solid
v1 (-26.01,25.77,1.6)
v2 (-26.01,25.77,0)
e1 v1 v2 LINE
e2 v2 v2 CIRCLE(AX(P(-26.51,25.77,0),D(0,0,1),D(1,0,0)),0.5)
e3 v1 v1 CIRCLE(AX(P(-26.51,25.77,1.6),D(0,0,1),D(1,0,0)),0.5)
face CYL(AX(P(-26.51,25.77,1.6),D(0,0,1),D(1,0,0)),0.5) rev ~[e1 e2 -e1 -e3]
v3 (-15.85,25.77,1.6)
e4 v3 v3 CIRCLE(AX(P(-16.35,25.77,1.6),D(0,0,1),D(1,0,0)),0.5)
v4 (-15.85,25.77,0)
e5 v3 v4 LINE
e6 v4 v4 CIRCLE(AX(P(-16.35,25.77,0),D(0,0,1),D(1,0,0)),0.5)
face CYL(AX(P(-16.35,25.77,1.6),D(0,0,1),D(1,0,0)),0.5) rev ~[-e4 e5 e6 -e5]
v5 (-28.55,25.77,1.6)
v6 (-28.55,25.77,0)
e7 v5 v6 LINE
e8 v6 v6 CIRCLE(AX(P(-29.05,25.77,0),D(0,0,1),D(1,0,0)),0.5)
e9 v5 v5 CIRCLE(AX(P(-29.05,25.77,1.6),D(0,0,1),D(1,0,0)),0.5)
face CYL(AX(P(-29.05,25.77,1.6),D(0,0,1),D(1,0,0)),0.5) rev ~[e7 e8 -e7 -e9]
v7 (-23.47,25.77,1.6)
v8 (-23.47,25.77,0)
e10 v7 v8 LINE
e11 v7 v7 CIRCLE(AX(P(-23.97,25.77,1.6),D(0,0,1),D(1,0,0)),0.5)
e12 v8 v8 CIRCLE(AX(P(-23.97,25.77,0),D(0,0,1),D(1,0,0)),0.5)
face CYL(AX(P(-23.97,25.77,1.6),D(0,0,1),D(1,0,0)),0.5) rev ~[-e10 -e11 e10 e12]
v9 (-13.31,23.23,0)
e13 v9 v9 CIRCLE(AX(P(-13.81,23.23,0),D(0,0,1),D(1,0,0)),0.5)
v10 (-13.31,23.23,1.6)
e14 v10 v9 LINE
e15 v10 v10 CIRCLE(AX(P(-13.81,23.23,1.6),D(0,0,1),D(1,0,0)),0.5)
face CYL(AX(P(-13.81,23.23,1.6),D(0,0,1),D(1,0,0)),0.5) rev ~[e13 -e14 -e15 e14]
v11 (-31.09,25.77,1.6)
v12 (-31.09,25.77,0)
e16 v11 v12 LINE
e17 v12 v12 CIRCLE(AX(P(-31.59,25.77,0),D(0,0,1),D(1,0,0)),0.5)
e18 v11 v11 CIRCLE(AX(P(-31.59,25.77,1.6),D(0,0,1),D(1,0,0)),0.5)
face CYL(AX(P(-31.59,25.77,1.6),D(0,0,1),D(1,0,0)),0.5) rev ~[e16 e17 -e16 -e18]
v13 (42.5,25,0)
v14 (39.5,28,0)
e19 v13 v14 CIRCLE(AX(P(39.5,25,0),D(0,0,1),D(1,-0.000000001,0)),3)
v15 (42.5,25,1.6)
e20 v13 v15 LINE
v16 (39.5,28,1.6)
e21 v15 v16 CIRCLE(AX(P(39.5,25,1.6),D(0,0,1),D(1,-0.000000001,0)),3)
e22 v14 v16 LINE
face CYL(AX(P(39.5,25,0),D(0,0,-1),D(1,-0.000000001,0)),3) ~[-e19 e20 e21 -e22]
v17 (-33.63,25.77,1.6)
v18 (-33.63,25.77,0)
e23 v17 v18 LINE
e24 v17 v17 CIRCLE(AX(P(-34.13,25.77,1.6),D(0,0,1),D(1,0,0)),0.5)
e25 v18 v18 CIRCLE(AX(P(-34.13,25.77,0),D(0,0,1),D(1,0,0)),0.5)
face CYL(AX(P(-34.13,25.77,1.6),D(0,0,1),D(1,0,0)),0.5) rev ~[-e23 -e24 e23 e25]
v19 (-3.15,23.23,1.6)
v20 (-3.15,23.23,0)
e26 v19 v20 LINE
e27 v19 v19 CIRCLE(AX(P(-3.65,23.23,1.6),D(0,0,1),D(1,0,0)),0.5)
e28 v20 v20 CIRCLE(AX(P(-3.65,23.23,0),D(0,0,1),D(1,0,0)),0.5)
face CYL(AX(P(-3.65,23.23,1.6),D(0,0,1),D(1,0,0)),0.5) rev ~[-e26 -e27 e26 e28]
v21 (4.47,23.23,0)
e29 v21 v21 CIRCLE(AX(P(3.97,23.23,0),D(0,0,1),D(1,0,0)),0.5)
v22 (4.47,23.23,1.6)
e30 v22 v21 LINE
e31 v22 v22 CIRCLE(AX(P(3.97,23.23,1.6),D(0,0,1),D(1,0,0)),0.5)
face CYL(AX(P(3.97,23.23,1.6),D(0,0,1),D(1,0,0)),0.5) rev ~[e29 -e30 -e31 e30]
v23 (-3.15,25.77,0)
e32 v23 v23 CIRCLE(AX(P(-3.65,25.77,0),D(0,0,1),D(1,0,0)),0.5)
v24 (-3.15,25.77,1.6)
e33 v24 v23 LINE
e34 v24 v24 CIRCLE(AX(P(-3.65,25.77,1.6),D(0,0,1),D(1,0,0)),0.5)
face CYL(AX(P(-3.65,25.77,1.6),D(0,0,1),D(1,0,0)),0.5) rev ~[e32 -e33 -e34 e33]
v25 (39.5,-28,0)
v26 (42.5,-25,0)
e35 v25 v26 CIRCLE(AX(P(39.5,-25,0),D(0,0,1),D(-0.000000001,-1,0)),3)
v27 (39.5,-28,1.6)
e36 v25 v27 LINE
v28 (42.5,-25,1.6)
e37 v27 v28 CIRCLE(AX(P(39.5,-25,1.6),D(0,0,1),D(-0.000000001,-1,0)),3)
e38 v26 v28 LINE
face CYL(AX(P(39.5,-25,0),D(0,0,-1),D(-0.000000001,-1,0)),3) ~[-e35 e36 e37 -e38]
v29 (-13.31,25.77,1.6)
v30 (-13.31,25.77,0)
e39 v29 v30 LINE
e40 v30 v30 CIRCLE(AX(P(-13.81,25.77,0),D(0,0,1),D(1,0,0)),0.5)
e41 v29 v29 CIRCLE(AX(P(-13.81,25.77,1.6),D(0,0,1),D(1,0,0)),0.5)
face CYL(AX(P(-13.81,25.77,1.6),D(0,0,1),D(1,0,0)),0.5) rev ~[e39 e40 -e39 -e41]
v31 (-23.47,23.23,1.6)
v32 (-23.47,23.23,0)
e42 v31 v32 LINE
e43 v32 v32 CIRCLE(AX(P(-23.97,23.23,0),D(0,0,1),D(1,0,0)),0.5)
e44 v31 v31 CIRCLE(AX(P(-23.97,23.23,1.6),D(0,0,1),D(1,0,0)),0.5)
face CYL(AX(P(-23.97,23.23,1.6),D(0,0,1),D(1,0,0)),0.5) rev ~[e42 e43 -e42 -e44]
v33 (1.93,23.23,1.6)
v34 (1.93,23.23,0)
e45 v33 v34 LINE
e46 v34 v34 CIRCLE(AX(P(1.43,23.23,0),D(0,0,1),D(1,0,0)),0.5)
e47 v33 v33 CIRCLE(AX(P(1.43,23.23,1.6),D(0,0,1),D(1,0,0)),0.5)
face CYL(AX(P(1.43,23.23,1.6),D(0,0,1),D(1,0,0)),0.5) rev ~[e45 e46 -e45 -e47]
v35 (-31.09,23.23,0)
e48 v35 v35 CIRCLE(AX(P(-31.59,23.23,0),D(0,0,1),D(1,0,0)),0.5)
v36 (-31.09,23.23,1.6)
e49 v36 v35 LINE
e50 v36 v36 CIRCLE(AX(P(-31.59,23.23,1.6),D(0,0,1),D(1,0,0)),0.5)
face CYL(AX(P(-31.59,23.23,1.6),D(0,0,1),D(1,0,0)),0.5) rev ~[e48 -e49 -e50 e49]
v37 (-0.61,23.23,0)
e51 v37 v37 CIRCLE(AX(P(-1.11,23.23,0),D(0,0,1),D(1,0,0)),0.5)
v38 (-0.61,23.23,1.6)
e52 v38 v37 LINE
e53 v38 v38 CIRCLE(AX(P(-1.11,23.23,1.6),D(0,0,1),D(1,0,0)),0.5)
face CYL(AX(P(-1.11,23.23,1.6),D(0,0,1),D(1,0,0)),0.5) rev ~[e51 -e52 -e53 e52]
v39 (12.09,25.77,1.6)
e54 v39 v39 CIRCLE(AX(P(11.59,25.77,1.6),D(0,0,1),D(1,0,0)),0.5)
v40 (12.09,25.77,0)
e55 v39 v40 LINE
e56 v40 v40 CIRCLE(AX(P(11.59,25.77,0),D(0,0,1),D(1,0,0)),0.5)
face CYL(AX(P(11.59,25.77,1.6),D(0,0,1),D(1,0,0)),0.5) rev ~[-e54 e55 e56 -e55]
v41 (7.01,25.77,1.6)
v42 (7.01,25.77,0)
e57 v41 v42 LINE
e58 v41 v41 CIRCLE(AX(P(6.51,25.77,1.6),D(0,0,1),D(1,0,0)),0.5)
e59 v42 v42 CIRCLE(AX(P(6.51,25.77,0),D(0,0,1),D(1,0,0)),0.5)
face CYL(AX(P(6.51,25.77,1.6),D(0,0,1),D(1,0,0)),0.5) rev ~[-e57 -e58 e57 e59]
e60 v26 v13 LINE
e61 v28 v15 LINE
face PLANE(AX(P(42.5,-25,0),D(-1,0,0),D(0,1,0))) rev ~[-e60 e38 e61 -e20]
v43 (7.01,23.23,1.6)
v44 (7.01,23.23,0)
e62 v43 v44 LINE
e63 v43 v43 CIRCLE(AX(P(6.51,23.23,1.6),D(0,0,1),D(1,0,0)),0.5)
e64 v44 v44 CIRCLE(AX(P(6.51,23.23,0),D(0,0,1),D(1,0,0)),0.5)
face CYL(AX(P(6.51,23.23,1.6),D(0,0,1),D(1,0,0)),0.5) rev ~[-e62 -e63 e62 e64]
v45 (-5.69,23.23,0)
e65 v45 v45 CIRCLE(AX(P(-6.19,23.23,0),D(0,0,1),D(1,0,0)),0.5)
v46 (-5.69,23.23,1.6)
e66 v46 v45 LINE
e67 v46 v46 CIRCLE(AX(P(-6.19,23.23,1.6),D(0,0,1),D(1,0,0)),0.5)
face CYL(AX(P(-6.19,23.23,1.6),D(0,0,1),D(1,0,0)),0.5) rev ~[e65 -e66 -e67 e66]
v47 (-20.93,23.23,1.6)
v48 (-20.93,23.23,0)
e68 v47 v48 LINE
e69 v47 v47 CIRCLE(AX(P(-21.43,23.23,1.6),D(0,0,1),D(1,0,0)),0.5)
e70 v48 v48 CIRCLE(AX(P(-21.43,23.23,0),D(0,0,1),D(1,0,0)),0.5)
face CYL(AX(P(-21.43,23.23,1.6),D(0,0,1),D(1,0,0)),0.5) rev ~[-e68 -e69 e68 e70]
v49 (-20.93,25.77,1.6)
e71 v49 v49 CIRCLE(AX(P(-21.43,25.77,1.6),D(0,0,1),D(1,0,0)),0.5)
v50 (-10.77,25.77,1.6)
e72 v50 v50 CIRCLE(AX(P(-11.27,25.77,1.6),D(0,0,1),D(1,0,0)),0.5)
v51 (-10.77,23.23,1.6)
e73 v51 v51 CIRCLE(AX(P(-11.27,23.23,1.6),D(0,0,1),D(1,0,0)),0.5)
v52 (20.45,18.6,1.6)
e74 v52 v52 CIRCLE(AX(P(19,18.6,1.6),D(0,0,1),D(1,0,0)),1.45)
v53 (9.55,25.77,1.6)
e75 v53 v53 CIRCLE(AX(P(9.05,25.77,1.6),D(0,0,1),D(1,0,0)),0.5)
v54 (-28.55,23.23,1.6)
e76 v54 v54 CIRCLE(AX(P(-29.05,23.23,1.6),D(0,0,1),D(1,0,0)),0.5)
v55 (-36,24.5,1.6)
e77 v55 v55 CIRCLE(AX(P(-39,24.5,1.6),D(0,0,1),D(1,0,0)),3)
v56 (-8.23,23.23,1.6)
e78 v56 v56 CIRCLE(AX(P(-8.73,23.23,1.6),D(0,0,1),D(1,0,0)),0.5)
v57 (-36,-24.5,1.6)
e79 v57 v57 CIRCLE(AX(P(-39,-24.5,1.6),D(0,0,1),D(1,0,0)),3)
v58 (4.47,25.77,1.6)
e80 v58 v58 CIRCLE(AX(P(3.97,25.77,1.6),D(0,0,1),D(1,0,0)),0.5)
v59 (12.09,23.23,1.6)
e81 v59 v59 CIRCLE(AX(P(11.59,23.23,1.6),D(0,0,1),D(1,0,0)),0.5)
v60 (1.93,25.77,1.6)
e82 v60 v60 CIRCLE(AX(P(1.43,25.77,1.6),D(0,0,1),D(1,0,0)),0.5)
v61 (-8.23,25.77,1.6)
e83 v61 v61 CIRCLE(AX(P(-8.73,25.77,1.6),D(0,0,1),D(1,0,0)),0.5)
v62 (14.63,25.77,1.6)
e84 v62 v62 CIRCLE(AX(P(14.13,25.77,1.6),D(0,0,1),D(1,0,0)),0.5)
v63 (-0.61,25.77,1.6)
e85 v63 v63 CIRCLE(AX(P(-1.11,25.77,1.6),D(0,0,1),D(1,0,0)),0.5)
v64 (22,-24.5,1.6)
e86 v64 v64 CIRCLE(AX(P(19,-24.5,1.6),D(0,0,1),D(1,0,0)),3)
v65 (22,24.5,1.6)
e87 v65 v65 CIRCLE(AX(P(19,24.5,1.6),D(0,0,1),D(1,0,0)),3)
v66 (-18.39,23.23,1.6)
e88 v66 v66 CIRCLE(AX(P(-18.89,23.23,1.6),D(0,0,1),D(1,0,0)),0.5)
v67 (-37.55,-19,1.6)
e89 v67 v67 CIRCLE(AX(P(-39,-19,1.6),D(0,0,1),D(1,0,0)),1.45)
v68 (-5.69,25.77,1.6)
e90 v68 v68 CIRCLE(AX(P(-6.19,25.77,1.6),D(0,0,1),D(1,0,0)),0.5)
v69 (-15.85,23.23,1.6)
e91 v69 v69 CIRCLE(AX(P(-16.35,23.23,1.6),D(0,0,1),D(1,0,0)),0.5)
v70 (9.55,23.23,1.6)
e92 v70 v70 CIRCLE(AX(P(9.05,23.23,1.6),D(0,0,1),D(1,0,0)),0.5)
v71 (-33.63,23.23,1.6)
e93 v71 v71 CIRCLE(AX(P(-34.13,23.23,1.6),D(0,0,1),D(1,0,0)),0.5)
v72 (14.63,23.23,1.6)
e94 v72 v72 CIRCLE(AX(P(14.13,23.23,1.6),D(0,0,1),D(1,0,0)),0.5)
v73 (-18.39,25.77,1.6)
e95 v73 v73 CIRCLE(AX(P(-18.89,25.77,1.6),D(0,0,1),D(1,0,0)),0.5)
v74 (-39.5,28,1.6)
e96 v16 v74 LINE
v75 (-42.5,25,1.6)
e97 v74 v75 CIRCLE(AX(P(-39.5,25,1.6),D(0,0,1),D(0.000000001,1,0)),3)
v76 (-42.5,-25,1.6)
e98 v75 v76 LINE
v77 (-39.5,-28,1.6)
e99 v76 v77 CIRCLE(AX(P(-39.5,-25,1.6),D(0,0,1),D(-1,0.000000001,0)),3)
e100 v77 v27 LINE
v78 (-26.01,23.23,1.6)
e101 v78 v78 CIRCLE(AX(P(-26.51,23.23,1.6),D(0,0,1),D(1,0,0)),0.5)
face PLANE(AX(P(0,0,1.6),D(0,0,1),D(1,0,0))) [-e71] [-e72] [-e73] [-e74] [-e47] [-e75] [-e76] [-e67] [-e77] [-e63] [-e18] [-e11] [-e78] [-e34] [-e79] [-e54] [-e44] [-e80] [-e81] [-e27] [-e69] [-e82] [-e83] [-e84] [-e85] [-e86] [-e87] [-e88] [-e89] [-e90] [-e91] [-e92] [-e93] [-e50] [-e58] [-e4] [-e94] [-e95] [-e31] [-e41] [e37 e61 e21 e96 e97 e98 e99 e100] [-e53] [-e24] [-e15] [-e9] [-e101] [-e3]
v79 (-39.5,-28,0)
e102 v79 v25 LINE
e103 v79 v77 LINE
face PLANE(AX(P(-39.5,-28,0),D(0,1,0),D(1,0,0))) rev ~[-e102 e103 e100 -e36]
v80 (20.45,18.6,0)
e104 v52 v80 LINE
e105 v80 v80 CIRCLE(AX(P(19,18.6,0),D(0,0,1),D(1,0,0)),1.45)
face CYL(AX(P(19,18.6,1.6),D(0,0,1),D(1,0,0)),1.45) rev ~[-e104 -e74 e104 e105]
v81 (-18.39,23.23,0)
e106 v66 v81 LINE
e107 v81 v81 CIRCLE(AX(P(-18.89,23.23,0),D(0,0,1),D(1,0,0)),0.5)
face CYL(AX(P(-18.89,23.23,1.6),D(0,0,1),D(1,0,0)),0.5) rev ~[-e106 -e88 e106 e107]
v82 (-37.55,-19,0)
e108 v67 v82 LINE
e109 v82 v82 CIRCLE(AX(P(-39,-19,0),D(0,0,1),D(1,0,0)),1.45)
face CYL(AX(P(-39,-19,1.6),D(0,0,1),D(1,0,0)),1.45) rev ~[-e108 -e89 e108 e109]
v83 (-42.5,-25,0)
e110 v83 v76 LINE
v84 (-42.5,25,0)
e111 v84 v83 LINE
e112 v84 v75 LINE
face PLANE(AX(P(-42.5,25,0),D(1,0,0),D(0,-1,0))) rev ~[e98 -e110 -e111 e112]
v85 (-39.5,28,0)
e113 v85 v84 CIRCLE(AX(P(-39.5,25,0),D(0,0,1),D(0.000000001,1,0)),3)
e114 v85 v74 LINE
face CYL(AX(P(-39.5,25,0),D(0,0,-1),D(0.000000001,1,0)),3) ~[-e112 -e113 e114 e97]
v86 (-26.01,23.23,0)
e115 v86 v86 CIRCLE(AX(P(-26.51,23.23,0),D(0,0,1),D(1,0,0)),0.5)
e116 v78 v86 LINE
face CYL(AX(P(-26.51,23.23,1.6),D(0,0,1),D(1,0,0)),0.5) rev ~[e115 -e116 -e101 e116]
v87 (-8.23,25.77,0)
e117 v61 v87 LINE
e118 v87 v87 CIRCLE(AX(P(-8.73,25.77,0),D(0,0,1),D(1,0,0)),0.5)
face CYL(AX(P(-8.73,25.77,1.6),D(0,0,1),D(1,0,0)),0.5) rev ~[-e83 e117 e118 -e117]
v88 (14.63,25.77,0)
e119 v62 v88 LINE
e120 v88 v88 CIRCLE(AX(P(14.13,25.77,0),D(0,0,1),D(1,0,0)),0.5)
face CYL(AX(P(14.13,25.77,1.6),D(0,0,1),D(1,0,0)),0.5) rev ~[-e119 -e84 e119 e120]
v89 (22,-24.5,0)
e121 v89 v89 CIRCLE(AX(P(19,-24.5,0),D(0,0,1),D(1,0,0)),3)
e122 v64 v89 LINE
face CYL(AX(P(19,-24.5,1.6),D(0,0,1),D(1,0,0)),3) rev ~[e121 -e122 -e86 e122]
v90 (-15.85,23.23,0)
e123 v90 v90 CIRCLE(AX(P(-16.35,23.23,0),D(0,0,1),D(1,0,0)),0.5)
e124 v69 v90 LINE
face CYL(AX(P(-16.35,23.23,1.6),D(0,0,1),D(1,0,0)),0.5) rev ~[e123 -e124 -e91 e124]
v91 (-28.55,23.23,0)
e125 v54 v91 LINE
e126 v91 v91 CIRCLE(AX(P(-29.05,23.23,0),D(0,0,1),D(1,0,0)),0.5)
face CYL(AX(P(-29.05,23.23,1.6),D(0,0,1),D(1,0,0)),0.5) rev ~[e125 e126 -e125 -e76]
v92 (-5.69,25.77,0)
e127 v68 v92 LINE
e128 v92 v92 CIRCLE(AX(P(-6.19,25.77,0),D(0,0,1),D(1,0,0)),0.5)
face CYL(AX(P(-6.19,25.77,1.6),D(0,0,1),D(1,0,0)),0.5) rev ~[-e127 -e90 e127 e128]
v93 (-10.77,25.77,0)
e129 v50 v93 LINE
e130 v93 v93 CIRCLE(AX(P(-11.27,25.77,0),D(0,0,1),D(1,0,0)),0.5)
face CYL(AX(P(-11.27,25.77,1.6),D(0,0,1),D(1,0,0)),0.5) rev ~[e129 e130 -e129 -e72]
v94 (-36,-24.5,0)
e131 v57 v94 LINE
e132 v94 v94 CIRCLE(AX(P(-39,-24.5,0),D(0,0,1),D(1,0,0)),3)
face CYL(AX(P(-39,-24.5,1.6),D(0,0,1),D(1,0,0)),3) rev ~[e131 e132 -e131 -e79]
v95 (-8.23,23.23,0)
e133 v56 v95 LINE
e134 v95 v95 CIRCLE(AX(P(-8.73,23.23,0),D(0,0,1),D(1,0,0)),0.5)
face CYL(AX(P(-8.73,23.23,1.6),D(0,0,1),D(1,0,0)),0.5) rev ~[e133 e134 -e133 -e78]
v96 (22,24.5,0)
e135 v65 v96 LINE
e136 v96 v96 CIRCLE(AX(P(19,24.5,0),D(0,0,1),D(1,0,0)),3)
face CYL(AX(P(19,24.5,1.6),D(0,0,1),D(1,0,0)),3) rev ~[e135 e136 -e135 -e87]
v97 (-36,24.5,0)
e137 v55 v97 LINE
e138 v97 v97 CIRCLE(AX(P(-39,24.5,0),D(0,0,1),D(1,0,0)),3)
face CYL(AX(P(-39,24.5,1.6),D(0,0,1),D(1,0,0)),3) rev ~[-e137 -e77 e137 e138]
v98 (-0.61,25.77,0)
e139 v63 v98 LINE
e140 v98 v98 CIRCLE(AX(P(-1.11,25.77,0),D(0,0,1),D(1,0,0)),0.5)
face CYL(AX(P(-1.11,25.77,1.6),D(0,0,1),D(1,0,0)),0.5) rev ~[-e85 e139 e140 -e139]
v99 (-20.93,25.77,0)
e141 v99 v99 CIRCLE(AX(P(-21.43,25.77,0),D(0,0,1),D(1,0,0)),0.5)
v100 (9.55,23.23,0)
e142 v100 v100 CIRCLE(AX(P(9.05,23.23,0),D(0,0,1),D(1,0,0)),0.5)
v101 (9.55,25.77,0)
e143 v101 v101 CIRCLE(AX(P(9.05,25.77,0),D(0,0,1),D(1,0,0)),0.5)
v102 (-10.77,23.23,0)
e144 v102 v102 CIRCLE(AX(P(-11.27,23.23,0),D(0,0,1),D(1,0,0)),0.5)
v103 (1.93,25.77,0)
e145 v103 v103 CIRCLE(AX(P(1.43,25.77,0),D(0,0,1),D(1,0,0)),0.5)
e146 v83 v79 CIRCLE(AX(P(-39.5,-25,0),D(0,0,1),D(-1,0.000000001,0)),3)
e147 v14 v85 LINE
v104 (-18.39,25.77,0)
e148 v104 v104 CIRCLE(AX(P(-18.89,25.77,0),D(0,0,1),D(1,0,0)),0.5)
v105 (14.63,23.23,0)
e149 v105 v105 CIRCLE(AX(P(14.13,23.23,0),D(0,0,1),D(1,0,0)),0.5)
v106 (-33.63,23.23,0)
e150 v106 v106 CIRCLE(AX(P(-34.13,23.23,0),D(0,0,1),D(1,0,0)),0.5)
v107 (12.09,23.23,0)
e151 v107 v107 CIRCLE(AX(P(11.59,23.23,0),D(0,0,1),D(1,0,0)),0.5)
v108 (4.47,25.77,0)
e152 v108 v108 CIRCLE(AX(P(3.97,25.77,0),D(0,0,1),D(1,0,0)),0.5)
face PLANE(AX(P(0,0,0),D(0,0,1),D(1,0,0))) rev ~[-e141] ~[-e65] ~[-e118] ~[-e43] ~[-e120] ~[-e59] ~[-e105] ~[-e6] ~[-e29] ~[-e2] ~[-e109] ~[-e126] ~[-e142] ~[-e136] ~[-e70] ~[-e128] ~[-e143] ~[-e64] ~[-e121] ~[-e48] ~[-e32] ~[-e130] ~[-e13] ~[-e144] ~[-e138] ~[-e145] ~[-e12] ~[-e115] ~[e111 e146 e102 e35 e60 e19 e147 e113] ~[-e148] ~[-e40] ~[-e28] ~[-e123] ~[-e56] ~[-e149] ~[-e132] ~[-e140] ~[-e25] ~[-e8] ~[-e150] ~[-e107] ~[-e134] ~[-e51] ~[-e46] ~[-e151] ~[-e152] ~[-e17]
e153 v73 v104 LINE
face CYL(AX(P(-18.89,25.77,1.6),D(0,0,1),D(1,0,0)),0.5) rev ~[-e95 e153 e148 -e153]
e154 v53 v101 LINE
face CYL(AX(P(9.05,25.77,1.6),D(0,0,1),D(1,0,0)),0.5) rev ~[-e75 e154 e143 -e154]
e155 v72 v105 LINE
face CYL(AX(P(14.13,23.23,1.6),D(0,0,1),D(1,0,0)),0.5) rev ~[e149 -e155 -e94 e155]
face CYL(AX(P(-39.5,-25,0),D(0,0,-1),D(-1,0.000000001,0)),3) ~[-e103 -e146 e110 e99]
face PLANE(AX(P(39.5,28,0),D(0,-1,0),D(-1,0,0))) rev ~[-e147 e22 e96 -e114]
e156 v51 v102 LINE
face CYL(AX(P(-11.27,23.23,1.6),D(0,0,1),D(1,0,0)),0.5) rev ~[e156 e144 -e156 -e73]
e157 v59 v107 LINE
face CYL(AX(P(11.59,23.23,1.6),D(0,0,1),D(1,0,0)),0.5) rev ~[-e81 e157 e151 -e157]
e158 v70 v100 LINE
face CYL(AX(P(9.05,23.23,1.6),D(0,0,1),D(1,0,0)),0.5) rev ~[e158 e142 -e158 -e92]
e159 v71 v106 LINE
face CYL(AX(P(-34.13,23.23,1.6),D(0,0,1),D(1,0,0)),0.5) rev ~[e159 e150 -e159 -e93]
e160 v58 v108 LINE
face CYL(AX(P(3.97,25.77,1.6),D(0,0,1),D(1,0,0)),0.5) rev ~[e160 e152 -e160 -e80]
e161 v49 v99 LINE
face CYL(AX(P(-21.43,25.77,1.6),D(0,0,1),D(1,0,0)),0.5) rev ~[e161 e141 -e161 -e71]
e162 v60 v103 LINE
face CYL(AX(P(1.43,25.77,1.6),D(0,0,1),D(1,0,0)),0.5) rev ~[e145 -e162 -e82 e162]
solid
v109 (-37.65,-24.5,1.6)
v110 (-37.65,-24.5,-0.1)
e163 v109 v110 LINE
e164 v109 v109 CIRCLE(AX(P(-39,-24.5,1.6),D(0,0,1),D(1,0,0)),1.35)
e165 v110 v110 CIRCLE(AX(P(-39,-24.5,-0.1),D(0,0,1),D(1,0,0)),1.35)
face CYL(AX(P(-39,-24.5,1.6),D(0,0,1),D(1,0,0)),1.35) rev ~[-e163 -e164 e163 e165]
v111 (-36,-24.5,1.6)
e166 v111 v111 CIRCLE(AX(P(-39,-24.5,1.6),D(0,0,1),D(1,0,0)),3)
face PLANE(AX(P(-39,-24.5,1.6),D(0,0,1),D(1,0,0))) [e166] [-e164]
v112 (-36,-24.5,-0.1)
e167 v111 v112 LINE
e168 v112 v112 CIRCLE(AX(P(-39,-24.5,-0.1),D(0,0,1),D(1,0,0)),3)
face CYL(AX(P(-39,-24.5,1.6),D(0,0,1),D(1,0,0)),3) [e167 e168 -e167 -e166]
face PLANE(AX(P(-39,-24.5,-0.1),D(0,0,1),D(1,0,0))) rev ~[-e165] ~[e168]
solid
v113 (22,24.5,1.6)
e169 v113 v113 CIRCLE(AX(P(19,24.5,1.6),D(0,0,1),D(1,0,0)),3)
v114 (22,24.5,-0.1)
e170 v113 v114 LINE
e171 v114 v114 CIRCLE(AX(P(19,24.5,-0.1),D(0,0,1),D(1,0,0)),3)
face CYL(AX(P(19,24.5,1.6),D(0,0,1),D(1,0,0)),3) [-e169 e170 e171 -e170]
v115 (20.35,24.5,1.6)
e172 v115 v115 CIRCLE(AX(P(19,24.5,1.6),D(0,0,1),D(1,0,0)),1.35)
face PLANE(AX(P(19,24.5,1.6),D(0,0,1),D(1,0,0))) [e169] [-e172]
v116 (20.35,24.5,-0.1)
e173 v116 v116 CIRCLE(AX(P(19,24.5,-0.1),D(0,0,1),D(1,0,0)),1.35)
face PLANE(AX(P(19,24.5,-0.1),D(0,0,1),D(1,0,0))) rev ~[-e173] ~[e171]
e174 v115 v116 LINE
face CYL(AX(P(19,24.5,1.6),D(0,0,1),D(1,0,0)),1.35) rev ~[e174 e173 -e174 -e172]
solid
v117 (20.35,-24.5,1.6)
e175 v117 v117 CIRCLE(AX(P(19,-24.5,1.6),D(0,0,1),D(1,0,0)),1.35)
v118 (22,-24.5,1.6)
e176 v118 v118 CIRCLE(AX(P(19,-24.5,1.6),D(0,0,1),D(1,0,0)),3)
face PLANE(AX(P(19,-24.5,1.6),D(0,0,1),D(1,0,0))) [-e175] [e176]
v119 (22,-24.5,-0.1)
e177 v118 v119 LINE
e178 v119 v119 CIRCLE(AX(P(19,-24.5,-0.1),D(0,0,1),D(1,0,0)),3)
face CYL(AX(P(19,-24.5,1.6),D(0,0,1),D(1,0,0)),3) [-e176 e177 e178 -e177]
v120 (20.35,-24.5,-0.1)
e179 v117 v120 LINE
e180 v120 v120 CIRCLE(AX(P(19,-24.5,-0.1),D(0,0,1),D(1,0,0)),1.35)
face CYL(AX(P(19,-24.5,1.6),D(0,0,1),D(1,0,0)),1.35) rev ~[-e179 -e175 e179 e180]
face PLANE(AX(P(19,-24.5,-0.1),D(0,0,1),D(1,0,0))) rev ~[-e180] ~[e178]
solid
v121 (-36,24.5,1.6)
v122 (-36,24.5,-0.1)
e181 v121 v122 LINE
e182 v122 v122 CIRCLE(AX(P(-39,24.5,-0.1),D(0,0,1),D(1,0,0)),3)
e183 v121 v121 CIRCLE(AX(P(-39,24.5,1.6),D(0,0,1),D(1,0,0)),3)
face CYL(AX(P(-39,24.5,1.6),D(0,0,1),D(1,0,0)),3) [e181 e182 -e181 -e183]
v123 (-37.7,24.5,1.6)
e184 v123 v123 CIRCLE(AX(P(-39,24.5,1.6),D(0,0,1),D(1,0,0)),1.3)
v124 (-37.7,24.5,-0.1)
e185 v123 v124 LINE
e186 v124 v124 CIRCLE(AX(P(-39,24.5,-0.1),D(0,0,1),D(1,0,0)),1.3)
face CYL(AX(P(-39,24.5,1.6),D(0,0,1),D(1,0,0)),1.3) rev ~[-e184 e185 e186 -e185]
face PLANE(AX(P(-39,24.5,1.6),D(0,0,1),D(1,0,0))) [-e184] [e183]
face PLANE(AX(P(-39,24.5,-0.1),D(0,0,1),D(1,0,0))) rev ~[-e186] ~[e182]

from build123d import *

# Parameters (mm, degrees)
BOSS_EXTRUDE1_DEPTH        = 1.6
SKETCH3_R                  = 3
CUT_EXTRUDE1_DEPTH         = 2.6
SKETCH4_R                  = 3
SKETCH4_R_2                = 1.35
BOSS_EXTRUDE2_DEPTH        = 1.7
BOSS_EXTRUDE2_2_DEPTH      = 1.7
BOSS_EXTRUDE2_3_DEPTH      = 1.7
SKETCH4_R_3                = 1.3
BOSS_EXTRUDE2_4_DEPTH      = 1.7
SKETCH6_R                  = 0.5
CUT_EXTRUDE3_DEPTH         = 2.7
SZKIC1_R                   = 1.45
WYTNIJ_WYCI_GNI_CIE1_DEPTH = 2.7


with BuildPart() as part:
    # Sketch1 → Boss-Extrude1 (new body)
    with BuildSketch(Plane.XY):
        with BuildLine():
            Line((-39.5, -28), (39.5, -28))
            ThreePointArc((39.5, -28), (41.621320344, -27.121320344), (42.5, -25))
            Line((42.5, -25), (42.5, 25))
            ThreePointArc((42.5, 25), (41.621320344, 27.121320344), (39.5, 28))
            Line((39.5, 28), (-39.5, 28))
            ThreePointArc((-39.5, 28), (-41.621320344, 27.121320344), (-42.5, 25))
            Line((-42.5, 25), (-42.5, -25))
            ThreePointArc((-42.5, -25), (-41.621320344, -27.121320344), (-39.5, -28))
        make_face()
    extrude(amount=BOSS_EXTRUDE1_DEPTH)

    # Sketch3 → Cut-Extrude1 (cut, through all)
    with BuildSketch(Plane.XY.offset(1.6)):
        with Locations((-39, 24.5)):
            Circle(SKETCH3_R)
        with Locations((-39, -24.5)):
            Circle(SKETCH3_R)
        with Locations((19, -24.5)):
            Circle(SKETCH3_R)
        with Locations((19, 24.5)):
            Circle(SKETCH3_R)
    extrude(amount=-CUT_EXTRUDE1_DEPTH, mode=Mode.SUBTRACT)

    # Sketch6 → Cut-Extrude3 (cut, through all)
    with BuildSketch(Plane.XY.offset(1.6)):
        with Locations((-34.13, 25.77)):
            Circle(SKETCH6_R)
        with Locations((-34.13, 23.23)):
            Circle(SKETCH6_R)
        with Locations((-31.59, 25.77)):
            Circle(SKETCH6_R)
        with Locations((-31.59, 23.23)):
            Circle(SKETCH6_R)
        with Locations((-29.05, 25.77)):
            Circle(SKETCH6_R)
        with Locations((-29.05, 23.23)):
            Circle(SKETCH6_R)
        with Locations((-26.51, 25.77)):
            Circle(SKETCH6_R)
        with Locations((-26.51, 23.23)):
            Circle(SKETCH6_R)
        with Locations((-23.97, 25.77)):
            Circle(SKETCH6_R)
        with Locations((-23.97, 23.23)):
            Circle(SKETCH6_R)
        with Locations((-21.43, 25.77)):
            Circle(SKETCH6_R)
        with Locations((-21.43, 23.23)):
            Circle(SKETCH6_R)
        with Locations((-18.89, 25.77)):
            Circle(SKETCH6_R)
        with Locations((-18.89, 23.23)):
            Circle(SKETCH6_R)
        with Locations((-16.35, 25.77)):
            Circle(SKETCH6_R)
        with Locations((-16.35, 23.23)):
            Circle(SKETCH6_R)
        with Locations((-13.81, 25.77)):
            Circle(SKETCH6_R)
        with Locations((-13.81, 23.23)):
            Circle(SKETCH6_R)
        with Locations((-11.27, 25.77)):
            Circle(SKETCH6_R)
        with Locations((-11.27, 23.23)):
            Circle(SKETCH6_R)
        with Locations((-8.73, 25.77)):
            Circle(SKETCH6_R)
        with Locations((-8.73, 23.23)):
            Circle(SKETCH6_R)
        with Locations((-6.19, 25.77)):
            Circle(SKETCH6_R)
        with Locations((-6.19, 23.23)):
            Circle(SKETCH6_R)
        with Locations((-3.65, 25.77)):
            Circle(SKETCH6_R)
        with Locations((-3.65, 23.23)):
            Circle(SKETCH6_R)
        with Locations((-1.11, 25.77)):
            Circle(SKETCH6_R)
        with Locations((-1.11, 23.23)):
            Circle(SKETCH6_R)
        with Locations((1.43, 25.77)):
            Circle(SKETCH6_R)
        with Locations((1.43, 23.23)):
            Circle(SKETCH6_R)
        with Locations((3.97, 25.77)):
            Circle(SKETCH6_R)
        with Locations((3.97, 23.23)):
            Circle(SKETCH6_R)
        with Locations((6.51, 25.77)):
            Circle(SKETCH6_R)
        with Locations((6.51, 23.23)):
            Circle(SKETCH6_R)
        with Locations((9.05, 25.77)):
            Circle(SKETCH6_R)
        with Locations((9.05, 23.23)):
            Circle(SKETCH6_R)
        with Locations((11.59, 25.77)):
            Circle(SKETCH6_R)
        with Locations((11.59, 23.23)):
            Circle(SKETCH6_R)
        with Locations((14.13, 25.77)):
            Circle(SKETCH6_R)
        with Locations((14.13, 23.23)):
            Circle(SKETCH6_R)
    extrude(amount=-CUT_EXTRUDE3_DEPTH, mode=Mode.SUBTRACT)

    # Szkic1 → Wytnij-wyciągnięcie1 (cut, through all)
    with BuildSketch(Plane.XY.offset(1.6)):
        with Locations((19, 18.6)):
            Circle(SZKIC1_R)
        with Locations((-39, -19)):
            Circle(SZKIC1_R)
    extrude(amount=-WYTNIJ_WYCI_GNI_CIE1_DEPTH, mode=Mode.SUBTRACT)


with BuildPart() as body_2:
    # Sketch4 → Boss-Extrude2 (new body)
    with BuildSketch(Plane.XY.offset(1.6)):
        with Locations((-39, -24.5)):
            Circle(SKETCH4_R)
        with Locations((-39, -24.5)):
            Circle(SKETCH4_R_2, mode=Mode.SUBTRACT)
    extrude(amount=-BOSS_EXTRUDE2_DEPTH)


with BuildPart() as body_3:
    # Sketch4 → Boss-Extrude2 2 (new body)
    with BuildSketch(Plane.XY.offset(1.6)):
        with Locations((19, -24.5)):
            Circle(SKETCH4_R)
        with Locations((19, -24.5)):
            Circle(SKETCH4_R_2, mode=Mode.SUBTRACT)
    extrude(amount=-BOSS_EXTRUDE2_2_DEPTH)


with BuildPart() as body_4:
    # Sketch4 → Boss-Extrude2 3 (new body)
    with BuildSketch(Plane.XY.offset(1.6)):
        with Locations((19, 24.5)):
            Circle(SKETCH4_R)
        with Locations((19, 24.5)):
            Circle(SKETCH4_R_2, mode=Mode.SUBTRACT)
    extrude(amount=-BOSS_EXTRUDE2_3_DEPTH)


with BuildPart() as body_5:
    # Sketch4 → Boss-Extrude2 4 (new body)
    with BuildSketch(Plane.XY.offset(1.6)):
        with Locations((-39, 24.5)):
            Circle(SKETCH4_R)
        with Locations((-39, 24.5)):
            Circle(SKETCH4_R_3, mode=Mode.SUBTRACT)
    extrude(amount=-BOSS_EXTRUDE2_4_DEPTH)


solid = Compound([part.part, body_2.part, body_3.part, body_4.part, body_5.part])
